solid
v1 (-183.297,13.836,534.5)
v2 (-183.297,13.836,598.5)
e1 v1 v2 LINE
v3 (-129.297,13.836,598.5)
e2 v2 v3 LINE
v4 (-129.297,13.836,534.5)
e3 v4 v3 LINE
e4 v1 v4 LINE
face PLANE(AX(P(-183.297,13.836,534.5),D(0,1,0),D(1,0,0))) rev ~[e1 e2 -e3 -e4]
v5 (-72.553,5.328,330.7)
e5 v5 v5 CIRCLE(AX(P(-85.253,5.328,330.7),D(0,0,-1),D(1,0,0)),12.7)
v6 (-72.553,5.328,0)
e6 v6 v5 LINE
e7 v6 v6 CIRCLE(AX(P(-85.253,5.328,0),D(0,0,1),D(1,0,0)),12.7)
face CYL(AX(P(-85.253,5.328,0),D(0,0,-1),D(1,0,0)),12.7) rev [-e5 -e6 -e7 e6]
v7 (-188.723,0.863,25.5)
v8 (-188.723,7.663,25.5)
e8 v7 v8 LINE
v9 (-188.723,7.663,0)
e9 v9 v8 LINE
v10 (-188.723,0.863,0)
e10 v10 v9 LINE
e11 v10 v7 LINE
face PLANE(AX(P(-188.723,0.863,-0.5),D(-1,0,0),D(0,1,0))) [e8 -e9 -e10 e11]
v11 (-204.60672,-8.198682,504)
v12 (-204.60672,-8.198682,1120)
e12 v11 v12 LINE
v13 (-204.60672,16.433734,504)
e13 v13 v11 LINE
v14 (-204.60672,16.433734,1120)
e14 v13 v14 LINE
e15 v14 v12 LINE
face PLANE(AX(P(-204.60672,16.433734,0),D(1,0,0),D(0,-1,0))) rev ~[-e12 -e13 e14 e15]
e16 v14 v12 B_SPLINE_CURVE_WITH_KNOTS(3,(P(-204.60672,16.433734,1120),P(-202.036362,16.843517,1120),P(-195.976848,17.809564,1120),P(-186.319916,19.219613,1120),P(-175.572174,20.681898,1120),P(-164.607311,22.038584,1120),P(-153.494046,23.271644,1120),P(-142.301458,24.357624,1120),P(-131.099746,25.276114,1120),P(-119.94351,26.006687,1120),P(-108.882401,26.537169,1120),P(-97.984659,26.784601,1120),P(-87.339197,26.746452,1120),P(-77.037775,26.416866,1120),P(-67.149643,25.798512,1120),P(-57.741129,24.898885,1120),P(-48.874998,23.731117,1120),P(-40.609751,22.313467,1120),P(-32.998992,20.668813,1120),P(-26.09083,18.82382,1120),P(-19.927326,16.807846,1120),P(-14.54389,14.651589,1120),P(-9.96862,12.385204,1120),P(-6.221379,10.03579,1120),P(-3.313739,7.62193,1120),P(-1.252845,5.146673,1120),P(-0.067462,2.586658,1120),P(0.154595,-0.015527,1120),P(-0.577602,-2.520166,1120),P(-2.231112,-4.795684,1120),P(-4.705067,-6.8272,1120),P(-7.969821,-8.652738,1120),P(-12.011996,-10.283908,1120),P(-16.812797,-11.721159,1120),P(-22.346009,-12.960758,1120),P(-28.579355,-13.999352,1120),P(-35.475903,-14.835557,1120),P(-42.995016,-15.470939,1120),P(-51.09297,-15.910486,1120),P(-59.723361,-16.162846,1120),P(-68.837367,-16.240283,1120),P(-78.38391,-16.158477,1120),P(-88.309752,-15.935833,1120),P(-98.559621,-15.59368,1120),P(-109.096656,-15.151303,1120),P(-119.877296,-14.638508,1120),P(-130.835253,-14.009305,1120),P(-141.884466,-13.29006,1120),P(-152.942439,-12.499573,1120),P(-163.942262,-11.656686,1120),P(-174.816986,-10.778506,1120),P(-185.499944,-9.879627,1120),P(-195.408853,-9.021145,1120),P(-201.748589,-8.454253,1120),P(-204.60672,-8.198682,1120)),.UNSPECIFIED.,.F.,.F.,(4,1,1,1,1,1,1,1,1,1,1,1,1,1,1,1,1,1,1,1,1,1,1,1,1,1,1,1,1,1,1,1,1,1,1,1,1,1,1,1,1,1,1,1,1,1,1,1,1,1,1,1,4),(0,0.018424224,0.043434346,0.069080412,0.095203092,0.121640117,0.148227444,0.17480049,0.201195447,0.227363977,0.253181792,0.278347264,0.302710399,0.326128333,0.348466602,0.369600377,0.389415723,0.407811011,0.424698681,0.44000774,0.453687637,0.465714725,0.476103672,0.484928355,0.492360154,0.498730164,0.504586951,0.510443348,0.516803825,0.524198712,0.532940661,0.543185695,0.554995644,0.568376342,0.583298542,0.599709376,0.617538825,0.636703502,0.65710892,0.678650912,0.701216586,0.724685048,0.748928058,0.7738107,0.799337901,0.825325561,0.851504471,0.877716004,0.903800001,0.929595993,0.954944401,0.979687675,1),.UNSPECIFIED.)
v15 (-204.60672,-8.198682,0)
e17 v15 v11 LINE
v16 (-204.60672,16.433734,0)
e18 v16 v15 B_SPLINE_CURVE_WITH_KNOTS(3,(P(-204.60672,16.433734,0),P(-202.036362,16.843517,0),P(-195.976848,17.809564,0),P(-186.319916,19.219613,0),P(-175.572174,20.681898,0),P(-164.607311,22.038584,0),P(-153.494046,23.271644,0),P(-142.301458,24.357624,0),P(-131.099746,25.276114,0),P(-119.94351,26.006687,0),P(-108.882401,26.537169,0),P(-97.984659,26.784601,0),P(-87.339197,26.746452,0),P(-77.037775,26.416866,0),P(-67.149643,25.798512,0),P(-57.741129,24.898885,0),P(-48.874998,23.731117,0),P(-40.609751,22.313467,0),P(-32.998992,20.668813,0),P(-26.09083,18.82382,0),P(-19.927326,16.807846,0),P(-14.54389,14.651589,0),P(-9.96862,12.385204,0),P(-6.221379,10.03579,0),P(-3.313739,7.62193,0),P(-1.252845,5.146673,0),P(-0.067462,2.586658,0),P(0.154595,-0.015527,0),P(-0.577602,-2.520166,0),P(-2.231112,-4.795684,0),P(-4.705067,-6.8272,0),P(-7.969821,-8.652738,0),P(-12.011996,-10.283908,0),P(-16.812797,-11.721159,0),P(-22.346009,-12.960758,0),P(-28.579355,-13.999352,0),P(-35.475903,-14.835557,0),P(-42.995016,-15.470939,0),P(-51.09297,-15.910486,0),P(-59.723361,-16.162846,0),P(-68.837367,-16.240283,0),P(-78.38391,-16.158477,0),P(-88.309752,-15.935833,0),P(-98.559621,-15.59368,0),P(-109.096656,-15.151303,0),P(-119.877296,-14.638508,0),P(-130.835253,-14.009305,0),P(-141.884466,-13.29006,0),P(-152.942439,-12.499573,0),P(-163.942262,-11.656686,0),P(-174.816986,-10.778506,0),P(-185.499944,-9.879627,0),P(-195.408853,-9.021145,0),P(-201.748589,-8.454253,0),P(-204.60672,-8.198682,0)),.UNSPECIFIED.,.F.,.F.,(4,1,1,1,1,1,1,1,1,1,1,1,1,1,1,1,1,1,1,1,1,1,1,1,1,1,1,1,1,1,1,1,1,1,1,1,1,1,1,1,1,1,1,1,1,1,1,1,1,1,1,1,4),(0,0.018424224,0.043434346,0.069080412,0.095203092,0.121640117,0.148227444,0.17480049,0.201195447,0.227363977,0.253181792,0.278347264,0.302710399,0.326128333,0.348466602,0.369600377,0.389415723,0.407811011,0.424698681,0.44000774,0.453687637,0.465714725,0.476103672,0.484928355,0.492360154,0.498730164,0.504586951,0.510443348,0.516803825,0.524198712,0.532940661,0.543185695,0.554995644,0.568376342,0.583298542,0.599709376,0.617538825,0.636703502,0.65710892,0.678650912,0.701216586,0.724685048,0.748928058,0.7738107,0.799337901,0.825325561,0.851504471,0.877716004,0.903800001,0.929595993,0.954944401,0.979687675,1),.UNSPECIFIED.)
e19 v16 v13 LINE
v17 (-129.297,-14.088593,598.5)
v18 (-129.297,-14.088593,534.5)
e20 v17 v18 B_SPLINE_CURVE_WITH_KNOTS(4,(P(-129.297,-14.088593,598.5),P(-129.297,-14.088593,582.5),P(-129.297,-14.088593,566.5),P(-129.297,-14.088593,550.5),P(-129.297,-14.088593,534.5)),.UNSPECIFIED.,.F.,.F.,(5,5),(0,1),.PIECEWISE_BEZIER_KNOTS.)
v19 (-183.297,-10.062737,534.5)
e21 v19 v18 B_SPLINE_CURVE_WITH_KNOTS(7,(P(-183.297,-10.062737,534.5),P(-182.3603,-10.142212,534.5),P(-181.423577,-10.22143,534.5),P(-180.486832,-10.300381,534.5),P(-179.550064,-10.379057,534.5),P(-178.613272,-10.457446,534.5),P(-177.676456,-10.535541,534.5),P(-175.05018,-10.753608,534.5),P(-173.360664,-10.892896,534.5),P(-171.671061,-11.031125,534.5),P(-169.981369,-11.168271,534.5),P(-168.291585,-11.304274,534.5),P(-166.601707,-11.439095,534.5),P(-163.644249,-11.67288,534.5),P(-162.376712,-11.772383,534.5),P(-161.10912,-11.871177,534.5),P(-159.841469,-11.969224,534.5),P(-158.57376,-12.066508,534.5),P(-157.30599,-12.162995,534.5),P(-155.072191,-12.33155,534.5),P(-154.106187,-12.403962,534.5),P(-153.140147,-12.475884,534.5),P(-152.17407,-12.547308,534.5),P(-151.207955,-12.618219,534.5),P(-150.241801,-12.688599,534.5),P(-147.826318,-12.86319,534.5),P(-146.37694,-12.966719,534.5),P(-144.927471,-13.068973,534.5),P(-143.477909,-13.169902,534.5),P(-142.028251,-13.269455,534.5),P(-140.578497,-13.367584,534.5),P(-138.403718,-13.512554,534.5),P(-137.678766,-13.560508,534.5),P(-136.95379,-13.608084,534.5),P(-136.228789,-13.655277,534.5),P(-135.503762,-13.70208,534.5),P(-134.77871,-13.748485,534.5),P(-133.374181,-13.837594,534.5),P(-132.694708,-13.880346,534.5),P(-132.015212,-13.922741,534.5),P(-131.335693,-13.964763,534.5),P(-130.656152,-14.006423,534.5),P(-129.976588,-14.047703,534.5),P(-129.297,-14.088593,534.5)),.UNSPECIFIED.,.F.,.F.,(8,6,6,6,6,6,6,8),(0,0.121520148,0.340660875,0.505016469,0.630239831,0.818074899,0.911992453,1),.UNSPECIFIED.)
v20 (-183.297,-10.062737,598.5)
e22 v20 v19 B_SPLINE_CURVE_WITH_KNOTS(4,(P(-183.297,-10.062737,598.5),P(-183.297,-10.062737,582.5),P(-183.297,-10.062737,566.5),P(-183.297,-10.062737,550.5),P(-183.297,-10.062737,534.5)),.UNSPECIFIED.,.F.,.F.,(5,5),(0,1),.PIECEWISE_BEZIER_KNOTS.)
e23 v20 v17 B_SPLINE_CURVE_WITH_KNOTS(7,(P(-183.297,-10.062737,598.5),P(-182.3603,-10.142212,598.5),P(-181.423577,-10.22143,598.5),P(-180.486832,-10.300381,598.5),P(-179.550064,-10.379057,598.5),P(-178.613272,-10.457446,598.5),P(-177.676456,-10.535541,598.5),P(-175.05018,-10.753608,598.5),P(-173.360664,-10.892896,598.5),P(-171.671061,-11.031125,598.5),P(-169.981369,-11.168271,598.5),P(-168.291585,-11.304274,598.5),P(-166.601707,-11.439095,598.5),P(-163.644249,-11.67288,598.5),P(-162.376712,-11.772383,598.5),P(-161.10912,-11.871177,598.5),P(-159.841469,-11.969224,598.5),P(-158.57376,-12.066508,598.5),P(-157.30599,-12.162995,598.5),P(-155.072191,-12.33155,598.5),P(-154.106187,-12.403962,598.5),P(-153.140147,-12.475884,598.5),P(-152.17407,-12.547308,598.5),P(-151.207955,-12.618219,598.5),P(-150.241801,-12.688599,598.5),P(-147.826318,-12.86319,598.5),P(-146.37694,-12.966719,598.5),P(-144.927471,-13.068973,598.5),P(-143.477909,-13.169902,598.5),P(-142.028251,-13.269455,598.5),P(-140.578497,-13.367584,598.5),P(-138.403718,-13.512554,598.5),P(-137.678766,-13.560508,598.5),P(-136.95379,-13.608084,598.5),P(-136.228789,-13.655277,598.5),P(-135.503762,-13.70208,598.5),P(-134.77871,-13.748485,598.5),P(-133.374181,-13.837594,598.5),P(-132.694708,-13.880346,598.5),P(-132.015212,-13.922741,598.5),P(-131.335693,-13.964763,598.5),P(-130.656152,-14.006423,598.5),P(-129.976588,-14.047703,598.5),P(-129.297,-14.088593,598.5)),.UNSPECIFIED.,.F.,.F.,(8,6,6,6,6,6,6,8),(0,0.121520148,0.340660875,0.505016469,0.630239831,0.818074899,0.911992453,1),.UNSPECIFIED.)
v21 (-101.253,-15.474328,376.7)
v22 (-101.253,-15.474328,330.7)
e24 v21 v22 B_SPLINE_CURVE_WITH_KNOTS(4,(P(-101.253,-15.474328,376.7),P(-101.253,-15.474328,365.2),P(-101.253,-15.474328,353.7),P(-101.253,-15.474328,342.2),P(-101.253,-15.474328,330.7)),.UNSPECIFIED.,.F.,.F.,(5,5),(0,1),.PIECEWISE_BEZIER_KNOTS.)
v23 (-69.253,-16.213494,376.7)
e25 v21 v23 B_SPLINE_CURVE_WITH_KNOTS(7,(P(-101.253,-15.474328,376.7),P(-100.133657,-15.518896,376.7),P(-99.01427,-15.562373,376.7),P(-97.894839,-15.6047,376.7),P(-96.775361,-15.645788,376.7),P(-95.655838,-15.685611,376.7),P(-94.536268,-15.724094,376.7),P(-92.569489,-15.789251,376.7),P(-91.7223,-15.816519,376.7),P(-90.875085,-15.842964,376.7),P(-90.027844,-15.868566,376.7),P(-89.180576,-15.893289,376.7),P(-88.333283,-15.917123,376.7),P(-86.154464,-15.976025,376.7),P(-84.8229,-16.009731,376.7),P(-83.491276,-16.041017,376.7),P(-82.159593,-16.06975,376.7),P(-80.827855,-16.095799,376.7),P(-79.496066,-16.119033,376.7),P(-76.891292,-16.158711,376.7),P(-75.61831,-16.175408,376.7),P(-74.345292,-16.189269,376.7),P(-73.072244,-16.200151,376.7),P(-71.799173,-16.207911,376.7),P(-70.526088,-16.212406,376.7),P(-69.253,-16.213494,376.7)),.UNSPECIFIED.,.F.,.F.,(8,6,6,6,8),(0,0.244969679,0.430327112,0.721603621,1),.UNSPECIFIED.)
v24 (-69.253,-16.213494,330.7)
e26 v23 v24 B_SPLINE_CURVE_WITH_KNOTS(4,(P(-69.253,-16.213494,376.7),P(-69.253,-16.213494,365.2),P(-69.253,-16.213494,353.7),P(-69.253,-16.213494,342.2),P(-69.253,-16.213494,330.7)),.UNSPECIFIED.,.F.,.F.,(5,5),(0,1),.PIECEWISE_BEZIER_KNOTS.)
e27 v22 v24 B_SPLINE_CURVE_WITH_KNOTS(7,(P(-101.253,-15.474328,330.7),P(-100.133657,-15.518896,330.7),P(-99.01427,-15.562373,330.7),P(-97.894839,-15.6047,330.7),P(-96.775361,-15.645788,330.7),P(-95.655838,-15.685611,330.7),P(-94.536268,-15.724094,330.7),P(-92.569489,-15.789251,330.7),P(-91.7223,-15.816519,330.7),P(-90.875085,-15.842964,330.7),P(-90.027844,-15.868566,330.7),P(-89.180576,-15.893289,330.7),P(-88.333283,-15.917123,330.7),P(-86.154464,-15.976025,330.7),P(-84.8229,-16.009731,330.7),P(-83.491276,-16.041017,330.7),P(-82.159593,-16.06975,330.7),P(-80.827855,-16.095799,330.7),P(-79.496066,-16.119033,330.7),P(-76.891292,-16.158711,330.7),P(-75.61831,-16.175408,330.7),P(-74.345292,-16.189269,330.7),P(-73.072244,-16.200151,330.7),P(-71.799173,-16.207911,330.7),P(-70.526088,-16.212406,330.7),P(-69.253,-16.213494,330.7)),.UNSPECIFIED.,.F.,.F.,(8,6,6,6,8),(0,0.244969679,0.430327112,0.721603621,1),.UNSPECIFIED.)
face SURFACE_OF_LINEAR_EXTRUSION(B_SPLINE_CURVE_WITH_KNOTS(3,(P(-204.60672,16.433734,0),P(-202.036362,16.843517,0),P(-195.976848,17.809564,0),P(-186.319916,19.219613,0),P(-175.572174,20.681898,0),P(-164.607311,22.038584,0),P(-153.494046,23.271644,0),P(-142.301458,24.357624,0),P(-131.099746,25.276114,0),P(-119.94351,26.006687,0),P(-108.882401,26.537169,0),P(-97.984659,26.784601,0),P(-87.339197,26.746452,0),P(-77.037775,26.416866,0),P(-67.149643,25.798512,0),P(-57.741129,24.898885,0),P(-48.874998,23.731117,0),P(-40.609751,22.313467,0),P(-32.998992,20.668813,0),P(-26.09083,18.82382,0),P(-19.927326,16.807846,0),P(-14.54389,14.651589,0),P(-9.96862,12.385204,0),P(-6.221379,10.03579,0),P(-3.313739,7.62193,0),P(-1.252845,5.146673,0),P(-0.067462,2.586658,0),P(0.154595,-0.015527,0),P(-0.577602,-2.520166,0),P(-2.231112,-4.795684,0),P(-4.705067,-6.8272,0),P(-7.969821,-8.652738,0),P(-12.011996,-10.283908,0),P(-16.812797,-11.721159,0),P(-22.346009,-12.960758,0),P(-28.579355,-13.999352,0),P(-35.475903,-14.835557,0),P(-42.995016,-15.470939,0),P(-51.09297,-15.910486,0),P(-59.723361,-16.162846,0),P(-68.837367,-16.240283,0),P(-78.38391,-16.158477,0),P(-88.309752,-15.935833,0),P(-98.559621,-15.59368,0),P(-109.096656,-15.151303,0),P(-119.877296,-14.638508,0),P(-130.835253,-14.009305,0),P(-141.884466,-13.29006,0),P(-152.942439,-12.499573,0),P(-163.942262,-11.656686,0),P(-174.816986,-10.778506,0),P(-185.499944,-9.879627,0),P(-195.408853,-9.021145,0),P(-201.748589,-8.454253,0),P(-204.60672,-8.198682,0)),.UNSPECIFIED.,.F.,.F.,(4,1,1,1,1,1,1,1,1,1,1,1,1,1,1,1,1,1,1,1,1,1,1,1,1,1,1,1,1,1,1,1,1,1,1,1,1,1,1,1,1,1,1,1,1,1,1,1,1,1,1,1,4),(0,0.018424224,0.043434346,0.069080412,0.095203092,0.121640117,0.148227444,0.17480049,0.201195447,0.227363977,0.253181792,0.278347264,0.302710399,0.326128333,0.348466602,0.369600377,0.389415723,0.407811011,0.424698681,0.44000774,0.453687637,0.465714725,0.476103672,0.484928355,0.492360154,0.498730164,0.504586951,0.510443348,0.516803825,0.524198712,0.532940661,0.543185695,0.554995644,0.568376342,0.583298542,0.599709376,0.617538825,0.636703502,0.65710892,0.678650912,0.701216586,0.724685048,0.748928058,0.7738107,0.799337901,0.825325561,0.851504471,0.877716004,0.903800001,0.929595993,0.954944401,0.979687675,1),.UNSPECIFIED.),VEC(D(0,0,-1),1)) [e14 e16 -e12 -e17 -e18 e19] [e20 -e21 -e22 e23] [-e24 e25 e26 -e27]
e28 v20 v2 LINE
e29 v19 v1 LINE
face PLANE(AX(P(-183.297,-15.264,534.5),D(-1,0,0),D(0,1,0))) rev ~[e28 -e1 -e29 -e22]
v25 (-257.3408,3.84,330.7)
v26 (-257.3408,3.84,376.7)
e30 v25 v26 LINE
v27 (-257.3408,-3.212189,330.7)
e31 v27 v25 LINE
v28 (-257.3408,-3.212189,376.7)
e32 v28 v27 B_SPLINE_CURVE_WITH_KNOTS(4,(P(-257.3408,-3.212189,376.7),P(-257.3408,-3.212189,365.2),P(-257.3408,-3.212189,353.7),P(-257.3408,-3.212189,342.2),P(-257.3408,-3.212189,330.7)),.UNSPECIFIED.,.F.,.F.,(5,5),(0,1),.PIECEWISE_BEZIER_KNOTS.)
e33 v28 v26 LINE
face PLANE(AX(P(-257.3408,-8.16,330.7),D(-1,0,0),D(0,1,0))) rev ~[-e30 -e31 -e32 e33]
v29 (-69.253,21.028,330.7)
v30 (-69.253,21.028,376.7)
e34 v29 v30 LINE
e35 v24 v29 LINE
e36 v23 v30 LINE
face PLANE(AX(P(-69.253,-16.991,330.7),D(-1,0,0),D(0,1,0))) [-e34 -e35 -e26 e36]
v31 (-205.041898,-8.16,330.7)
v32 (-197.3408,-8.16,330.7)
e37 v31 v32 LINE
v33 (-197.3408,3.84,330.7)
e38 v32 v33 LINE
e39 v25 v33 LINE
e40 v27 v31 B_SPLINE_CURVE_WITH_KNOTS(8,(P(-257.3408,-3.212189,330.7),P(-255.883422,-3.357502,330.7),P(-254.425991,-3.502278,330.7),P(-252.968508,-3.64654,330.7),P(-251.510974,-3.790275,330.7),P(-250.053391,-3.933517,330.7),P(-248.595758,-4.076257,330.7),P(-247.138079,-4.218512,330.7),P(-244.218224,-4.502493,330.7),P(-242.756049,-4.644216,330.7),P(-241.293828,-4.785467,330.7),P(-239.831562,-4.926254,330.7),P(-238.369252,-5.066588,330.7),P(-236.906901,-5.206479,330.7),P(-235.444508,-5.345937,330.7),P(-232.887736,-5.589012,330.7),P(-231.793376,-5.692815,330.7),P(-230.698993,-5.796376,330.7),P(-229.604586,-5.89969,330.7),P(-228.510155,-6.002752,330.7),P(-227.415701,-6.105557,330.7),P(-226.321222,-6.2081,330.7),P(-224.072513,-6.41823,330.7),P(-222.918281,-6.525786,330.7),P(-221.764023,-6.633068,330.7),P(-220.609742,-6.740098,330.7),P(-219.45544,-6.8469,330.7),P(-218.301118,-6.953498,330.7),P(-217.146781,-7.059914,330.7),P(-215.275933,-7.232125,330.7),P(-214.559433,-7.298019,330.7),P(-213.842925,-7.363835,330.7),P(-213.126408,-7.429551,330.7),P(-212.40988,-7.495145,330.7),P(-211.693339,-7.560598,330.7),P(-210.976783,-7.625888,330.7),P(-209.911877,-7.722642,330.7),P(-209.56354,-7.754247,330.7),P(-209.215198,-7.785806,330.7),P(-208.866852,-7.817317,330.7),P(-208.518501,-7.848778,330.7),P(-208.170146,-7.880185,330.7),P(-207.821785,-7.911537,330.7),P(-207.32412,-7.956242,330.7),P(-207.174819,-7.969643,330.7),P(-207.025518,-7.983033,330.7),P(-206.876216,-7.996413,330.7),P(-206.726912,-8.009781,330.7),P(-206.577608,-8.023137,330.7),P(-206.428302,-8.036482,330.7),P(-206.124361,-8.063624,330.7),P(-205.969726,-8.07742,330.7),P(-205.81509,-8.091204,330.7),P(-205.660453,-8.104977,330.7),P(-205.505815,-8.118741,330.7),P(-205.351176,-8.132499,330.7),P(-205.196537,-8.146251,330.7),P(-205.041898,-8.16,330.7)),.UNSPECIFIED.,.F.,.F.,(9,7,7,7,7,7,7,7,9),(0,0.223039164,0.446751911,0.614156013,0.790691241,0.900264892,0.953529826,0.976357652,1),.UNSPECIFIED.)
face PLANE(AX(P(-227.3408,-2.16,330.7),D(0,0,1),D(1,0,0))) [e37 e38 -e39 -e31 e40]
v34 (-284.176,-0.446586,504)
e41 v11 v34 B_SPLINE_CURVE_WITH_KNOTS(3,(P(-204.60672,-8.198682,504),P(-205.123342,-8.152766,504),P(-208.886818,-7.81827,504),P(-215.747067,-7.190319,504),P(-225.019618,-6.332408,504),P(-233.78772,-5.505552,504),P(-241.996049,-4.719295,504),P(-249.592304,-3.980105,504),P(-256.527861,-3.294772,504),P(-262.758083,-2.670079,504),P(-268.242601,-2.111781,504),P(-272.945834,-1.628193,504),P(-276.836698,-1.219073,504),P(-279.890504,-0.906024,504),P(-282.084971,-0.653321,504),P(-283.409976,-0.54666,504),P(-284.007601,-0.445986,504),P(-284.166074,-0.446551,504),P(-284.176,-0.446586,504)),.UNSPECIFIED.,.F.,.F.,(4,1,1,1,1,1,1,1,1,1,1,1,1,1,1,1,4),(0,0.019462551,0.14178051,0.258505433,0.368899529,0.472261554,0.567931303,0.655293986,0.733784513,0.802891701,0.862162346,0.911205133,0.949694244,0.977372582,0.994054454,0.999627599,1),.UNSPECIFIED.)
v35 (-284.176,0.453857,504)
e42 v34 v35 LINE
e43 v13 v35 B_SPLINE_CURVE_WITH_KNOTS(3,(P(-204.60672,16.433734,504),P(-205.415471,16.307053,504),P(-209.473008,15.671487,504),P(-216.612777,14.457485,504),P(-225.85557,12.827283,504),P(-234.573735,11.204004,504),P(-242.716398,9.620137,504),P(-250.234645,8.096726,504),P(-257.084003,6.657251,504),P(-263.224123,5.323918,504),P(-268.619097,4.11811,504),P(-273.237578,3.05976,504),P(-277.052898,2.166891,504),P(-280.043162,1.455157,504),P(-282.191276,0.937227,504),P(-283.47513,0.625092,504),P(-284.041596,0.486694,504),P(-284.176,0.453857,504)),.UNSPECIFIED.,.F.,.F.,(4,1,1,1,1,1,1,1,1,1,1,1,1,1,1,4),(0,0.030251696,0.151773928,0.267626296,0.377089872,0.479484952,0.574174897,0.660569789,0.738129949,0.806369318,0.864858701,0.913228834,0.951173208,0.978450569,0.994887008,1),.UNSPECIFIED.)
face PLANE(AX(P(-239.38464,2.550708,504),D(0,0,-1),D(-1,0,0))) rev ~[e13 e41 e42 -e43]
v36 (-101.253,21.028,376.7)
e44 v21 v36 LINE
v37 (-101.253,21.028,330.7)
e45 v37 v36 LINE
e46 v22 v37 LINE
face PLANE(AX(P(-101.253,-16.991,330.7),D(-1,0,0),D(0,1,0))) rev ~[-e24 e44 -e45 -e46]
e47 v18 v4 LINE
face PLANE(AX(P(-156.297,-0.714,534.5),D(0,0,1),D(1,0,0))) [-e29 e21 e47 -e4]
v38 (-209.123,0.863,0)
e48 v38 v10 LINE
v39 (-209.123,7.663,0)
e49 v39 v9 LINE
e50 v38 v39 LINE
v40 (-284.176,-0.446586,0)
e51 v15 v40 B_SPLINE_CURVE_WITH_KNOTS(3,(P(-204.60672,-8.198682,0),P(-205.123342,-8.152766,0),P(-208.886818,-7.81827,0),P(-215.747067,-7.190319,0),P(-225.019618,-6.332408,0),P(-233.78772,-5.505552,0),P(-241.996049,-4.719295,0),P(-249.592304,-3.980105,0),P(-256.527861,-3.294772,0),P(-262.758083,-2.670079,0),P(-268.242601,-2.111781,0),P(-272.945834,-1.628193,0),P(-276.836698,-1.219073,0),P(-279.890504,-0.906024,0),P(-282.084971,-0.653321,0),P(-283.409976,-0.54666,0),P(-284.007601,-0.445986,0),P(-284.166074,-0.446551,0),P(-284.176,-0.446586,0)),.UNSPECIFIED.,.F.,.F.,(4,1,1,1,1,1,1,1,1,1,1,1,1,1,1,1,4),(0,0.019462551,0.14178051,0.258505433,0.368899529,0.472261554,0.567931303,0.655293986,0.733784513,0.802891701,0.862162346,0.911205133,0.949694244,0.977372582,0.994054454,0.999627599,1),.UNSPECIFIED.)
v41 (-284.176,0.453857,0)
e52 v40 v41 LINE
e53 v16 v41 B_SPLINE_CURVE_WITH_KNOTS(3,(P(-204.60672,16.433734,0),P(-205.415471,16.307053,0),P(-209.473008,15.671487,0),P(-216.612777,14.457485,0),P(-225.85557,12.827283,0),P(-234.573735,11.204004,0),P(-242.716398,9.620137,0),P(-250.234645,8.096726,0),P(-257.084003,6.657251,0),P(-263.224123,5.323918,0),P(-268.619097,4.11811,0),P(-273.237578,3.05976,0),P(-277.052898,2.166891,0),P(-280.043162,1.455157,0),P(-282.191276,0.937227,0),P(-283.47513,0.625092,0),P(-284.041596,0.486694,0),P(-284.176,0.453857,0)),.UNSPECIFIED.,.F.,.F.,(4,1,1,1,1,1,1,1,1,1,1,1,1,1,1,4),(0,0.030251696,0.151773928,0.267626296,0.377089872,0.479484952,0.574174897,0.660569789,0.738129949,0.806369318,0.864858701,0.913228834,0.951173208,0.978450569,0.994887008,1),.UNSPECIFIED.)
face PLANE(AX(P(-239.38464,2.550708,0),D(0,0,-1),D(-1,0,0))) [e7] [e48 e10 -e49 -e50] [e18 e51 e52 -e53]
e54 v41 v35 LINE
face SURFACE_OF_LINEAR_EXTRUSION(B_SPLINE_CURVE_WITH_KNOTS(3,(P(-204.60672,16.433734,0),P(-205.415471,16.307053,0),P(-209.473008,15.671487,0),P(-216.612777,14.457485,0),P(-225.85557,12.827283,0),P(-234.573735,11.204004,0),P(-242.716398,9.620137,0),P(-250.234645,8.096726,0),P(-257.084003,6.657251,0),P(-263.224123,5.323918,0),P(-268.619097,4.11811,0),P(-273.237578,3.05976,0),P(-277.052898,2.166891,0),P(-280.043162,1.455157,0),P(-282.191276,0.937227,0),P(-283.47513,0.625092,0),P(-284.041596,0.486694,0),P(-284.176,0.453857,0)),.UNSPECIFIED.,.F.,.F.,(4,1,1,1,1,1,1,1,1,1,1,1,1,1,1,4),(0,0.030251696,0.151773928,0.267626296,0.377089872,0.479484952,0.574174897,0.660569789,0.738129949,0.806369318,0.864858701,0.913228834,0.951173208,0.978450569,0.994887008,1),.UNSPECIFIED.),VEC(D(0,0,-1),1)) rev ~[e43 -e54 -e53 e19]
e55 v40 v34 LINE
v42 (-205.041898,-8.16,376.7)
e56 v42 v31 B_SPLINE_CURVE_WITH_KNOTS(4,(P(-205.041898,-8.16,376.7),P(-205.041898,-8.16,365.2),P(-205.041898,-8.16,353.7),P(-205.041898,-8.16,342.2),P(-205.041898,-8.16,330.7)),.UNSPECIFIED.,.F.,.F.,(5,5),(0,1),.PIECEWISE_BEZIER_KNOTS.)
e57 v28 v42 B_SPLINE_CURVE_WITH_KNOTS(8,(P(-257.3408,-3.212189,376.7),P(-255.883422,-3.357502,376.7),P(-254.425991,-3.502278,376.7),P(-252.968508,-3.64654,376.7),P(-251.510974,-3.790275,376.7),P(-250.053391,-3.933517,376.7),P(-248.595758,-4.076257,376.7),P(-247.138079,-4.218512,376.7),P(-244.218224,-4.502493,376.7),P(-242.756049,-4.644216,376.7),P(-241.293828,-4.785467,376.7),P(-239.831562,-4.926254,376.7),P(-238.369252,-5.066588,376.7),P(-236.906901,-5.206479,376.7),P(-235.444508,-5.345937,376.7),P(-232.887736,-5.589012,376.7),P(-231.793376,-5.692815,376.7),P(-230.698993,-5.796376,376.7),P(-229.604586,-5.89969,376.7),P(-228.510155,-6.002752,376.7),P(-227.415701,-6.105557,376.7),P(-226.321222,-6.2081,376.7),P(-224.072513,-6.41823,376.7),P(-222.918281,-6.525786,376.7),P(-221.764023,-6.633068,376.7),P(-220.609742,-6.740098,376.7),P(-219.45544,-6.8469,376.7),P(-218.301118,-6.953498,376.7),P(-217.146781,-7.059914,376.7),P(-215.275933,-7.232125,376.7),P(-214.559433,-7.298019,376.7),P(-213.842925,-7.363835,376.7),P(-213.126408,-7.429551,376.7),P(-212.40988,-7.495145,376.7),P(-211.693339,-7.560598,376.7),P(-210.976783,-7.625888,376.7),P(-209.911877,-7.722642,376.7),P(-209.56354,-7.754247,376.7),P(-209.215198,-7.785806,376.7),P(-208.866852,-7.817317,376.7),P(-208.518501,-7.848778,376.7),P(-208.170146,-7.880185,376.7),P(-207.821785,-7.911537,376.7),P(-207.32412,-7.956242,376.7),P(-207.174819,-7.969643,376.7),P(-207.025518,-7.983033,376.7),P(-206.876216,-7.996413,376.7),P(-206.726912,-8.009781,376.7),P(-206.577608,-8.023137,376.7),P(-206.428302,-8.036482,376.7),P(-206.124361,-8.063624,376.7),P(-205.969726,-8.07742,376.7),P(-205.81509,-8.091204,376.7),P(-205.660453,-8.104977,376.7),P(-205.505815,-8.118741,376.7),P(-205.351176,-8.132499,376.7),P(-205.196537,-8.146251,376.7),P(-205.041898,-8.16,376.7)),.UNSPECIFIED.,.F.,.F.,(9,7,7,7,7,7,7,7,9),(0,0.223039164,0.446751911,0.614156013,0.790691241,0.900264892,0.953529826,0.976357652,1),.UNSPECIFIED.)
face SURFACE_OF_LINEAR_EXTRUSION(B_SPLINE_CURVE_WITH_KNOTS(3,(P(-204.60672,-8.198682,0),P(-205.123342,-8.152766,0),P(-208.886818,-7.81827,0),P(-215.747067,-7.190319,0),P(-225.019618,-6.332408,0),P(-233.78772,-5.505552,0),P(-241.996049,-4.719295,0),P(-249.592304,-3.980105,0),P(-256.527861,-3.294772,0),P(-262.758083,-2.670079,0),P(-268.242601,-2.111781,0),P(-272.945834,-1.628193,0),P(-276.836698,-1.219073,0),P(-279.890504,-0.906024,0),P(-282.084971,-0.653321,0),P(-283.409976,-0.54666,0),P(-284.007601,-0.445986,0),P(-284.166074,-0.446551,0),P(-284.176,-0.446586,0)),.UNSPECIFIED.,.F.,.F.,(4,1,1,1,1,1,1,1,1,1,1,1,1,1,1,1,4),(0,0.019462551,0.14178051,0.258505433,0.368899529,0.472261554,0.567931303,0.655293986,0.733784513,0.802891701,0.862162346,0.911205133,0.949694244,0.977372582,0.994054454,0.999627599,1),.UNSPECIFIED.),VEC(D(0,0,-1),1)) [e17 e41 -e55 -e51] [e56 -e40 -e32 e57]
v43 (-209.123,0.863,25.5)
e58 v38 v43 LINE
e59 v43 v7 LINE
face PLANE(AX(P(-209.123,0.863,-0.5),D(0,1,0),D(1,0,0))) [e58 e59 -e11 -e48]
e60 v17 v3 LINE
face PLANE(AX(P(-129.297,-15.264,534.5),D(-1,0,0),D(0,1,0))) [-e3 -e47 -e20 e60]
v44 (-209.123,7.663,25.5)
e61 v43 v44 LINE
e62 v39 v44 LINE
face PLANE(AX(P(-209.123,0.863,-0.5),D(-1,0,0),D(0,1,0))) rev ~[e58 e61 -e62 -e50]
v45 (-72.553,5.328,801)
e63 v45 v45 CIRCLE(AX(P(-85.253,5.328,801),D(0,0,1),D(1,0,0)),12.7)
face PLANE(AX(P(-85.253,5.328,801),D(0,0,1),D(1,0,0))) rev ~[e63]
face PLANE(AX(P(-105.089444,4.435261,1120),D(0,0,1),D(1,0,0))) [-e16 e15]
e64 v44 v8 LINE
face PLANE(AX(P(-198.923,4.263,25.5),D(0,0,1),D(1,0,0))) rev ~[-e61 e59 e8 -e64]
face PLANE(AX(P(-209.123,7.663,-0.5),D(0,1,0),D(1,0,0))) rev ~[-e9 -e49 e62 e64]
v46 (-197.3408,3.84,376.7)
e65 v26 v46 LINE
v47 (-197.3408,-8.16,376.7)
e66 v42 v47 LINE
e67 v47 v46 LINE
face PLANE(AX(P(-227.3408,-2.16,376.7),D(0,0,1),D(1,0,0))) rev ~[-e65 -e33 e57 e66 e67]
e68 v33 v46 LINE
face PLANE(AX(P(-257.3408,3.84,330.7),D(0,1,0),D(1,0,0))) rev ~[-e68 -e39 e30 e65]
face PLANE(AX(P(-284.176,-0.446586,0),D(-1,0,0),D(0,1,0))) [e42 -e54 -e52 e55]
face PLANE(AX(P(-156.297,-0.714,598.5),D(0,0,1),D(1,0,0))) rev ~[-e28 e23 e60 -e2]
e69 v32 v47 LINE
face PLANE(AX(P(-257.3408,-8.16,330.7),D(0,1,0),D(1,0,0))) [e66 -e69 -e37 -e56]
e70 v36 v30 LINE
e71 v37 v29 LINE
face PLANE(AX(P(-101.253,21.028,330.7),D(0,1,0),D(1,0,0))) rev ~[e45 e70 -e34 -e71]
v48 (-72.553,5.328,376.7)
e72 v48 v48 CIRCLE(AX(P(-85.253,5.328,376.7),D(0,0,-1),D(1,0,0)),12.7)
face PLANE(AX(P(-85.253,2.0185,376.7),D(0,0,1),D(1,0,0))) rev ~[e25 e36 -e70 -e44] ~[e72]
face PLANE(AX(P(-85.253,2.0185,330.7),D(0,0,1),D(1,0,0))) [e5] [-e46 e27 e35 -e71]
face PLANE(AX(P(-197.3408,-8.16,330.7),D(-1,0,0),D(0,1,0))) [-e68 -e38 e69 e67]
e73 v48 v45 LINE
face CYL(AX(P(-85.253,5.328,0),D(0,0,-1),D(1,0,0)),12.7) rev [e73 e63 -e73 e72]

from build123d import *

# Parameters (mm, degrees)
BOSS_EXTRUDE1_DEPTH = 1120
BOSS_EXTRUDE2_DEPTH = 504
SKETCH3_R           = 12.7
CUT_EXTRUDE1_DEPTH  = 801
SKETCH4_W           = 32
SKETCH4_H           = 38.019
CUT_EXTRUDE2_DEPTH  = 46
SKETCH5_W           = 60
SKETCH5_H           = 12
CUT_EXTRUDE3_DEPTH  = 46
SKETCH6_W           = 54
SKETCH6_H           = 29.1
CUT_EXTRUDE4_DEPTH  = 64
SKETCH7_W           = 20.4
SKETCH7_H           = 6.8
CUT_EXTRUDE5_DEPTH  = 26


with BuildPart() as part:
    # Sketch1 → Boss-Extrude1 (new body)
    with BuildSketch(Plane.XY):
        with BuildLine():
            Line((-204.60672, 16.43373442), (-204.60672, -8.19868247))
            add(Edge.make_bspline(
                [(-204.60672, 16.43373442), (-202.036361523, 16.843517491), (-195.976847624, 17.809564148), (-186.31991623, 19.219612694), (-175.572173627, 20.681898456), (-164.607311335, 22.038583826), (-153.49404645, 23.271644216), (-142.301458132, 24.357624452), (-131.099746315, 25.27611377), (-119.943510485, 26.006687445), (-108.882401137, 26.537168758), (-97.984658952, 26.784601367), (-87.339197239, 26.746452246), (-77.037775283, 26.416865966), (-67.149643376, 25.798512435), (-57.741129063, 24.898884792), (-48.874997943, 23.731117117), (-40.609751299, 22.313467309), (-32.99899187, 20.668813467), (-26.09083036, 18.823819721), (-19.927325542, 16.807846118), (-14.543890216, 14.651588692), (-9.968619512, 12.385203852), (-6.221379001, 10.035790246), (-3.313738727, 7.621930176), (-1.252844721, 5.146672973), (-0.067461683, 2.586657871), (0.154594698, -0.015527038), (-0.577602024, -2.520166193), (-2.23111232, -4.795683741), (-4.705066866, -6.827199984), (-7.969820634, -8.652738302), (-12.011996138, -10.283908092), (-16.812796605, -11.721159399), (-22.346009478, -12.960758117), (-28.579355048, -13.999351597), (-35.475903212, -14.835557319), (-42.995015776, -15.470938778), (-51.09296977, -15.910485811), (-59.723361484, -16.162845606), (-68.837366971, -16.240282897), (-78.383909857, -16.158476575), (-88.309752455, -15.935832899), (-98.559621371, -15.593680374), (-109.096656126, -15.151303304), (-119.877295693, -14.638508478), (-130.835253322, -14.00930548), (-141.884466391, -13.29005991), (-152.942439018, -12.499573468), (-163.942262105, -11.656685653), (-174.816986108, -10.778505542), (-185.49994365, -9.879627403), (-195.408852603, -9.021145417), (-201.74858929, -8.4542533), (-204.60672, -8.19868247)],
                knots=[0, 0, 0, 0, 0.018424224, 0.043434346, 0.069080412, 0.095203092, 0.121640117, 0.148227444, 0.17480049, 0.201195447, 0.227363977, 0.253181792, 0.278347264, 0.302710399, 0.326128333, 0.348466602, 0.369600377, 0.389415723, 0.407811011, 0.424698681, 0.44000774, 0.453687637, 0.465714725, 0.476103672, 0.484928355, 0.492360154, 0.498730164, 0.504586951, 0.510443348, 0.516803825, 0.524198712, 0.532940661, 0.543185695, 0.554995644, 0.568376342, 0.583298542, 0.599709376, 0.617538825, 0.636703502, 0.65710892, 0.678650912, 0.701216586, 0.724685048, 0.748928058, 0.7738107, 0.799337901, 0.825325561, 0.851504471, 0.877716004, 0.903800001, 0.929595993, 0.954944401, 0.979687675, 1, 1, 1, 1], degree=3))
        make_face()
    extrude(amount=BOSS_EXTRUDE1_DEPTH)

    # Sketch2 → Boss-Extrude2 (add)
    with BuildSketch(Plane.XY):
        with BuildLine():
            Line((-204.60672, 16.43373442), (-204.60672, -8.19868247))
            add(Edge.make_bspline(
                [(-204.60672, -8.19868247), (-205.123341506, -8.152765503), (-208.886818398, -7.818270242), (-215.747067479, -7.19031909), (-225.019618317, -6.332407693), (-233.78771967, -5.505552256), (-241.996048886, -4.719294865), (-249.592303574, -3.980104608), (-256.527861477, -3.294772313), (-262.75808282, -2.6700791), (-268.242600782, -2.111780911), (-272.945834404, -1.62819317), (-276.836698489, -1.219072845), (-279.890503934, -0.906023665), (-282.084971372, -0.653321358), (-283.409976301, -0.546659805), (-284.007600869, -0.445986487), (-284.166073983, -0.446550556), (-284.176, -0.446585887)],
                knots=[0, 0, 0, 0, 0.019462551, 0.14178051, 0.258505433, 0.368899529, 0.472261554, 0.567931303, 0.655293986, 0.733784513, 0.802891701, 0.862162346, 0.911205133, 0.949694244, 0.977372582, 0.994054454, 0.999627599, 1, 1, 1, 1], degree=3))
            Line((-284.176, -0.446585887), (-284.176, 0.453857008))
            add(Edge.make_bspline(
                [(-204.60672, 16.43373442), (-205.415471282, 16.307052878), (-209.473007674, 15.671486692), (-216.612776575, 14.457484774), (-225.855570238, 12.827283141), (-234.573734516, 11.204003783), (-242.71639827, 9.620137001), (-250.234645079, 8.09672624), (-257.084002847, 6.657250954), (-263.224123157, 5.323917782), (-268.619097463, 4.118109632), (-273.237578469, 3.059759971), (-277.052897898, 2.166891113), (-280.043162129, 1.455156879), (-282.19127614, 0.937226778), (-283.475130043, 0.62509225), (-284.041595768, 0.4866944), (-284.176, 0.453857008)],
                knots=[0, 0, 0, 0, 0.030251696, 0.151773928, 0.267626296, 0.377089872, 0.479484952, 0.574174897, 0.660569789, 0.738129949, 0.806369318, 0.864858701, 0.913228834, 0.951173208, 0.978450569, 0.994887008, 1, 1, 1, 1], degree=3))
        make_face()
    extrude(amount=BOSS_EXTRUDE2_DEPTH)

    # Sketch3 → Cut-Extrude1 (cut)
    with BuildSketch(Plane.XY):
        with Locations((-85.253, 5.328)):
            Circle(SKETCH3_R)
    extrude(amount=CUT_EXTRUDE1_DEPTH, mode=Mode.SUBTRACT)

    # Sketch4 → Cut-Extrude2 (cut)
    with BuildSketch(Plane.XY.offset(330.7)):
        with Locations((-85.253, 2.0185)):
            Rectangle(SKETCH4_W, SKETCH4_H)
    extrude(amount=CUT_EXTRUDE2_DEPTH, mode=Mode.SUBTRACT)

    # Sketch5 → Cut-Extrude3 (cut)
    with BuildSketch(Plane.XY.offset(330.7)):
        with Locations((-227.3408, -2.16)):
            Rectangle(SKETCH5_W, SKETCH5_H)
    extrude(amount=CUT_EXTRUDE3_DEPTH, mode=Mode.SUBTRACT)

    # Sketch6 → Cut-Extrude4 (cut)
    with BuildSketch(Plane.XY.offset(534.5)):
        with Locations((-156.297, -0.714)):
            Rectangle(SKETCH6_W, SKETCH6_H)
    extrude(amount=CUT_EXTRUDE4_DEPTH, mode=Mode.SUBTRACT)

    # Sketch7 → Cut-Extrude5 (cut)
    with BuildSketch(Plane.XY.offset(-0.5)):
        with Locations((-198.923, 4.263)):
            Rectangle(SKETCH7_W, SKETCH7_H)
    extrude(amount=CUT_EXTRUDE5_DEPTH, mode=Mode.SUBTRACT)


solid = part.part
